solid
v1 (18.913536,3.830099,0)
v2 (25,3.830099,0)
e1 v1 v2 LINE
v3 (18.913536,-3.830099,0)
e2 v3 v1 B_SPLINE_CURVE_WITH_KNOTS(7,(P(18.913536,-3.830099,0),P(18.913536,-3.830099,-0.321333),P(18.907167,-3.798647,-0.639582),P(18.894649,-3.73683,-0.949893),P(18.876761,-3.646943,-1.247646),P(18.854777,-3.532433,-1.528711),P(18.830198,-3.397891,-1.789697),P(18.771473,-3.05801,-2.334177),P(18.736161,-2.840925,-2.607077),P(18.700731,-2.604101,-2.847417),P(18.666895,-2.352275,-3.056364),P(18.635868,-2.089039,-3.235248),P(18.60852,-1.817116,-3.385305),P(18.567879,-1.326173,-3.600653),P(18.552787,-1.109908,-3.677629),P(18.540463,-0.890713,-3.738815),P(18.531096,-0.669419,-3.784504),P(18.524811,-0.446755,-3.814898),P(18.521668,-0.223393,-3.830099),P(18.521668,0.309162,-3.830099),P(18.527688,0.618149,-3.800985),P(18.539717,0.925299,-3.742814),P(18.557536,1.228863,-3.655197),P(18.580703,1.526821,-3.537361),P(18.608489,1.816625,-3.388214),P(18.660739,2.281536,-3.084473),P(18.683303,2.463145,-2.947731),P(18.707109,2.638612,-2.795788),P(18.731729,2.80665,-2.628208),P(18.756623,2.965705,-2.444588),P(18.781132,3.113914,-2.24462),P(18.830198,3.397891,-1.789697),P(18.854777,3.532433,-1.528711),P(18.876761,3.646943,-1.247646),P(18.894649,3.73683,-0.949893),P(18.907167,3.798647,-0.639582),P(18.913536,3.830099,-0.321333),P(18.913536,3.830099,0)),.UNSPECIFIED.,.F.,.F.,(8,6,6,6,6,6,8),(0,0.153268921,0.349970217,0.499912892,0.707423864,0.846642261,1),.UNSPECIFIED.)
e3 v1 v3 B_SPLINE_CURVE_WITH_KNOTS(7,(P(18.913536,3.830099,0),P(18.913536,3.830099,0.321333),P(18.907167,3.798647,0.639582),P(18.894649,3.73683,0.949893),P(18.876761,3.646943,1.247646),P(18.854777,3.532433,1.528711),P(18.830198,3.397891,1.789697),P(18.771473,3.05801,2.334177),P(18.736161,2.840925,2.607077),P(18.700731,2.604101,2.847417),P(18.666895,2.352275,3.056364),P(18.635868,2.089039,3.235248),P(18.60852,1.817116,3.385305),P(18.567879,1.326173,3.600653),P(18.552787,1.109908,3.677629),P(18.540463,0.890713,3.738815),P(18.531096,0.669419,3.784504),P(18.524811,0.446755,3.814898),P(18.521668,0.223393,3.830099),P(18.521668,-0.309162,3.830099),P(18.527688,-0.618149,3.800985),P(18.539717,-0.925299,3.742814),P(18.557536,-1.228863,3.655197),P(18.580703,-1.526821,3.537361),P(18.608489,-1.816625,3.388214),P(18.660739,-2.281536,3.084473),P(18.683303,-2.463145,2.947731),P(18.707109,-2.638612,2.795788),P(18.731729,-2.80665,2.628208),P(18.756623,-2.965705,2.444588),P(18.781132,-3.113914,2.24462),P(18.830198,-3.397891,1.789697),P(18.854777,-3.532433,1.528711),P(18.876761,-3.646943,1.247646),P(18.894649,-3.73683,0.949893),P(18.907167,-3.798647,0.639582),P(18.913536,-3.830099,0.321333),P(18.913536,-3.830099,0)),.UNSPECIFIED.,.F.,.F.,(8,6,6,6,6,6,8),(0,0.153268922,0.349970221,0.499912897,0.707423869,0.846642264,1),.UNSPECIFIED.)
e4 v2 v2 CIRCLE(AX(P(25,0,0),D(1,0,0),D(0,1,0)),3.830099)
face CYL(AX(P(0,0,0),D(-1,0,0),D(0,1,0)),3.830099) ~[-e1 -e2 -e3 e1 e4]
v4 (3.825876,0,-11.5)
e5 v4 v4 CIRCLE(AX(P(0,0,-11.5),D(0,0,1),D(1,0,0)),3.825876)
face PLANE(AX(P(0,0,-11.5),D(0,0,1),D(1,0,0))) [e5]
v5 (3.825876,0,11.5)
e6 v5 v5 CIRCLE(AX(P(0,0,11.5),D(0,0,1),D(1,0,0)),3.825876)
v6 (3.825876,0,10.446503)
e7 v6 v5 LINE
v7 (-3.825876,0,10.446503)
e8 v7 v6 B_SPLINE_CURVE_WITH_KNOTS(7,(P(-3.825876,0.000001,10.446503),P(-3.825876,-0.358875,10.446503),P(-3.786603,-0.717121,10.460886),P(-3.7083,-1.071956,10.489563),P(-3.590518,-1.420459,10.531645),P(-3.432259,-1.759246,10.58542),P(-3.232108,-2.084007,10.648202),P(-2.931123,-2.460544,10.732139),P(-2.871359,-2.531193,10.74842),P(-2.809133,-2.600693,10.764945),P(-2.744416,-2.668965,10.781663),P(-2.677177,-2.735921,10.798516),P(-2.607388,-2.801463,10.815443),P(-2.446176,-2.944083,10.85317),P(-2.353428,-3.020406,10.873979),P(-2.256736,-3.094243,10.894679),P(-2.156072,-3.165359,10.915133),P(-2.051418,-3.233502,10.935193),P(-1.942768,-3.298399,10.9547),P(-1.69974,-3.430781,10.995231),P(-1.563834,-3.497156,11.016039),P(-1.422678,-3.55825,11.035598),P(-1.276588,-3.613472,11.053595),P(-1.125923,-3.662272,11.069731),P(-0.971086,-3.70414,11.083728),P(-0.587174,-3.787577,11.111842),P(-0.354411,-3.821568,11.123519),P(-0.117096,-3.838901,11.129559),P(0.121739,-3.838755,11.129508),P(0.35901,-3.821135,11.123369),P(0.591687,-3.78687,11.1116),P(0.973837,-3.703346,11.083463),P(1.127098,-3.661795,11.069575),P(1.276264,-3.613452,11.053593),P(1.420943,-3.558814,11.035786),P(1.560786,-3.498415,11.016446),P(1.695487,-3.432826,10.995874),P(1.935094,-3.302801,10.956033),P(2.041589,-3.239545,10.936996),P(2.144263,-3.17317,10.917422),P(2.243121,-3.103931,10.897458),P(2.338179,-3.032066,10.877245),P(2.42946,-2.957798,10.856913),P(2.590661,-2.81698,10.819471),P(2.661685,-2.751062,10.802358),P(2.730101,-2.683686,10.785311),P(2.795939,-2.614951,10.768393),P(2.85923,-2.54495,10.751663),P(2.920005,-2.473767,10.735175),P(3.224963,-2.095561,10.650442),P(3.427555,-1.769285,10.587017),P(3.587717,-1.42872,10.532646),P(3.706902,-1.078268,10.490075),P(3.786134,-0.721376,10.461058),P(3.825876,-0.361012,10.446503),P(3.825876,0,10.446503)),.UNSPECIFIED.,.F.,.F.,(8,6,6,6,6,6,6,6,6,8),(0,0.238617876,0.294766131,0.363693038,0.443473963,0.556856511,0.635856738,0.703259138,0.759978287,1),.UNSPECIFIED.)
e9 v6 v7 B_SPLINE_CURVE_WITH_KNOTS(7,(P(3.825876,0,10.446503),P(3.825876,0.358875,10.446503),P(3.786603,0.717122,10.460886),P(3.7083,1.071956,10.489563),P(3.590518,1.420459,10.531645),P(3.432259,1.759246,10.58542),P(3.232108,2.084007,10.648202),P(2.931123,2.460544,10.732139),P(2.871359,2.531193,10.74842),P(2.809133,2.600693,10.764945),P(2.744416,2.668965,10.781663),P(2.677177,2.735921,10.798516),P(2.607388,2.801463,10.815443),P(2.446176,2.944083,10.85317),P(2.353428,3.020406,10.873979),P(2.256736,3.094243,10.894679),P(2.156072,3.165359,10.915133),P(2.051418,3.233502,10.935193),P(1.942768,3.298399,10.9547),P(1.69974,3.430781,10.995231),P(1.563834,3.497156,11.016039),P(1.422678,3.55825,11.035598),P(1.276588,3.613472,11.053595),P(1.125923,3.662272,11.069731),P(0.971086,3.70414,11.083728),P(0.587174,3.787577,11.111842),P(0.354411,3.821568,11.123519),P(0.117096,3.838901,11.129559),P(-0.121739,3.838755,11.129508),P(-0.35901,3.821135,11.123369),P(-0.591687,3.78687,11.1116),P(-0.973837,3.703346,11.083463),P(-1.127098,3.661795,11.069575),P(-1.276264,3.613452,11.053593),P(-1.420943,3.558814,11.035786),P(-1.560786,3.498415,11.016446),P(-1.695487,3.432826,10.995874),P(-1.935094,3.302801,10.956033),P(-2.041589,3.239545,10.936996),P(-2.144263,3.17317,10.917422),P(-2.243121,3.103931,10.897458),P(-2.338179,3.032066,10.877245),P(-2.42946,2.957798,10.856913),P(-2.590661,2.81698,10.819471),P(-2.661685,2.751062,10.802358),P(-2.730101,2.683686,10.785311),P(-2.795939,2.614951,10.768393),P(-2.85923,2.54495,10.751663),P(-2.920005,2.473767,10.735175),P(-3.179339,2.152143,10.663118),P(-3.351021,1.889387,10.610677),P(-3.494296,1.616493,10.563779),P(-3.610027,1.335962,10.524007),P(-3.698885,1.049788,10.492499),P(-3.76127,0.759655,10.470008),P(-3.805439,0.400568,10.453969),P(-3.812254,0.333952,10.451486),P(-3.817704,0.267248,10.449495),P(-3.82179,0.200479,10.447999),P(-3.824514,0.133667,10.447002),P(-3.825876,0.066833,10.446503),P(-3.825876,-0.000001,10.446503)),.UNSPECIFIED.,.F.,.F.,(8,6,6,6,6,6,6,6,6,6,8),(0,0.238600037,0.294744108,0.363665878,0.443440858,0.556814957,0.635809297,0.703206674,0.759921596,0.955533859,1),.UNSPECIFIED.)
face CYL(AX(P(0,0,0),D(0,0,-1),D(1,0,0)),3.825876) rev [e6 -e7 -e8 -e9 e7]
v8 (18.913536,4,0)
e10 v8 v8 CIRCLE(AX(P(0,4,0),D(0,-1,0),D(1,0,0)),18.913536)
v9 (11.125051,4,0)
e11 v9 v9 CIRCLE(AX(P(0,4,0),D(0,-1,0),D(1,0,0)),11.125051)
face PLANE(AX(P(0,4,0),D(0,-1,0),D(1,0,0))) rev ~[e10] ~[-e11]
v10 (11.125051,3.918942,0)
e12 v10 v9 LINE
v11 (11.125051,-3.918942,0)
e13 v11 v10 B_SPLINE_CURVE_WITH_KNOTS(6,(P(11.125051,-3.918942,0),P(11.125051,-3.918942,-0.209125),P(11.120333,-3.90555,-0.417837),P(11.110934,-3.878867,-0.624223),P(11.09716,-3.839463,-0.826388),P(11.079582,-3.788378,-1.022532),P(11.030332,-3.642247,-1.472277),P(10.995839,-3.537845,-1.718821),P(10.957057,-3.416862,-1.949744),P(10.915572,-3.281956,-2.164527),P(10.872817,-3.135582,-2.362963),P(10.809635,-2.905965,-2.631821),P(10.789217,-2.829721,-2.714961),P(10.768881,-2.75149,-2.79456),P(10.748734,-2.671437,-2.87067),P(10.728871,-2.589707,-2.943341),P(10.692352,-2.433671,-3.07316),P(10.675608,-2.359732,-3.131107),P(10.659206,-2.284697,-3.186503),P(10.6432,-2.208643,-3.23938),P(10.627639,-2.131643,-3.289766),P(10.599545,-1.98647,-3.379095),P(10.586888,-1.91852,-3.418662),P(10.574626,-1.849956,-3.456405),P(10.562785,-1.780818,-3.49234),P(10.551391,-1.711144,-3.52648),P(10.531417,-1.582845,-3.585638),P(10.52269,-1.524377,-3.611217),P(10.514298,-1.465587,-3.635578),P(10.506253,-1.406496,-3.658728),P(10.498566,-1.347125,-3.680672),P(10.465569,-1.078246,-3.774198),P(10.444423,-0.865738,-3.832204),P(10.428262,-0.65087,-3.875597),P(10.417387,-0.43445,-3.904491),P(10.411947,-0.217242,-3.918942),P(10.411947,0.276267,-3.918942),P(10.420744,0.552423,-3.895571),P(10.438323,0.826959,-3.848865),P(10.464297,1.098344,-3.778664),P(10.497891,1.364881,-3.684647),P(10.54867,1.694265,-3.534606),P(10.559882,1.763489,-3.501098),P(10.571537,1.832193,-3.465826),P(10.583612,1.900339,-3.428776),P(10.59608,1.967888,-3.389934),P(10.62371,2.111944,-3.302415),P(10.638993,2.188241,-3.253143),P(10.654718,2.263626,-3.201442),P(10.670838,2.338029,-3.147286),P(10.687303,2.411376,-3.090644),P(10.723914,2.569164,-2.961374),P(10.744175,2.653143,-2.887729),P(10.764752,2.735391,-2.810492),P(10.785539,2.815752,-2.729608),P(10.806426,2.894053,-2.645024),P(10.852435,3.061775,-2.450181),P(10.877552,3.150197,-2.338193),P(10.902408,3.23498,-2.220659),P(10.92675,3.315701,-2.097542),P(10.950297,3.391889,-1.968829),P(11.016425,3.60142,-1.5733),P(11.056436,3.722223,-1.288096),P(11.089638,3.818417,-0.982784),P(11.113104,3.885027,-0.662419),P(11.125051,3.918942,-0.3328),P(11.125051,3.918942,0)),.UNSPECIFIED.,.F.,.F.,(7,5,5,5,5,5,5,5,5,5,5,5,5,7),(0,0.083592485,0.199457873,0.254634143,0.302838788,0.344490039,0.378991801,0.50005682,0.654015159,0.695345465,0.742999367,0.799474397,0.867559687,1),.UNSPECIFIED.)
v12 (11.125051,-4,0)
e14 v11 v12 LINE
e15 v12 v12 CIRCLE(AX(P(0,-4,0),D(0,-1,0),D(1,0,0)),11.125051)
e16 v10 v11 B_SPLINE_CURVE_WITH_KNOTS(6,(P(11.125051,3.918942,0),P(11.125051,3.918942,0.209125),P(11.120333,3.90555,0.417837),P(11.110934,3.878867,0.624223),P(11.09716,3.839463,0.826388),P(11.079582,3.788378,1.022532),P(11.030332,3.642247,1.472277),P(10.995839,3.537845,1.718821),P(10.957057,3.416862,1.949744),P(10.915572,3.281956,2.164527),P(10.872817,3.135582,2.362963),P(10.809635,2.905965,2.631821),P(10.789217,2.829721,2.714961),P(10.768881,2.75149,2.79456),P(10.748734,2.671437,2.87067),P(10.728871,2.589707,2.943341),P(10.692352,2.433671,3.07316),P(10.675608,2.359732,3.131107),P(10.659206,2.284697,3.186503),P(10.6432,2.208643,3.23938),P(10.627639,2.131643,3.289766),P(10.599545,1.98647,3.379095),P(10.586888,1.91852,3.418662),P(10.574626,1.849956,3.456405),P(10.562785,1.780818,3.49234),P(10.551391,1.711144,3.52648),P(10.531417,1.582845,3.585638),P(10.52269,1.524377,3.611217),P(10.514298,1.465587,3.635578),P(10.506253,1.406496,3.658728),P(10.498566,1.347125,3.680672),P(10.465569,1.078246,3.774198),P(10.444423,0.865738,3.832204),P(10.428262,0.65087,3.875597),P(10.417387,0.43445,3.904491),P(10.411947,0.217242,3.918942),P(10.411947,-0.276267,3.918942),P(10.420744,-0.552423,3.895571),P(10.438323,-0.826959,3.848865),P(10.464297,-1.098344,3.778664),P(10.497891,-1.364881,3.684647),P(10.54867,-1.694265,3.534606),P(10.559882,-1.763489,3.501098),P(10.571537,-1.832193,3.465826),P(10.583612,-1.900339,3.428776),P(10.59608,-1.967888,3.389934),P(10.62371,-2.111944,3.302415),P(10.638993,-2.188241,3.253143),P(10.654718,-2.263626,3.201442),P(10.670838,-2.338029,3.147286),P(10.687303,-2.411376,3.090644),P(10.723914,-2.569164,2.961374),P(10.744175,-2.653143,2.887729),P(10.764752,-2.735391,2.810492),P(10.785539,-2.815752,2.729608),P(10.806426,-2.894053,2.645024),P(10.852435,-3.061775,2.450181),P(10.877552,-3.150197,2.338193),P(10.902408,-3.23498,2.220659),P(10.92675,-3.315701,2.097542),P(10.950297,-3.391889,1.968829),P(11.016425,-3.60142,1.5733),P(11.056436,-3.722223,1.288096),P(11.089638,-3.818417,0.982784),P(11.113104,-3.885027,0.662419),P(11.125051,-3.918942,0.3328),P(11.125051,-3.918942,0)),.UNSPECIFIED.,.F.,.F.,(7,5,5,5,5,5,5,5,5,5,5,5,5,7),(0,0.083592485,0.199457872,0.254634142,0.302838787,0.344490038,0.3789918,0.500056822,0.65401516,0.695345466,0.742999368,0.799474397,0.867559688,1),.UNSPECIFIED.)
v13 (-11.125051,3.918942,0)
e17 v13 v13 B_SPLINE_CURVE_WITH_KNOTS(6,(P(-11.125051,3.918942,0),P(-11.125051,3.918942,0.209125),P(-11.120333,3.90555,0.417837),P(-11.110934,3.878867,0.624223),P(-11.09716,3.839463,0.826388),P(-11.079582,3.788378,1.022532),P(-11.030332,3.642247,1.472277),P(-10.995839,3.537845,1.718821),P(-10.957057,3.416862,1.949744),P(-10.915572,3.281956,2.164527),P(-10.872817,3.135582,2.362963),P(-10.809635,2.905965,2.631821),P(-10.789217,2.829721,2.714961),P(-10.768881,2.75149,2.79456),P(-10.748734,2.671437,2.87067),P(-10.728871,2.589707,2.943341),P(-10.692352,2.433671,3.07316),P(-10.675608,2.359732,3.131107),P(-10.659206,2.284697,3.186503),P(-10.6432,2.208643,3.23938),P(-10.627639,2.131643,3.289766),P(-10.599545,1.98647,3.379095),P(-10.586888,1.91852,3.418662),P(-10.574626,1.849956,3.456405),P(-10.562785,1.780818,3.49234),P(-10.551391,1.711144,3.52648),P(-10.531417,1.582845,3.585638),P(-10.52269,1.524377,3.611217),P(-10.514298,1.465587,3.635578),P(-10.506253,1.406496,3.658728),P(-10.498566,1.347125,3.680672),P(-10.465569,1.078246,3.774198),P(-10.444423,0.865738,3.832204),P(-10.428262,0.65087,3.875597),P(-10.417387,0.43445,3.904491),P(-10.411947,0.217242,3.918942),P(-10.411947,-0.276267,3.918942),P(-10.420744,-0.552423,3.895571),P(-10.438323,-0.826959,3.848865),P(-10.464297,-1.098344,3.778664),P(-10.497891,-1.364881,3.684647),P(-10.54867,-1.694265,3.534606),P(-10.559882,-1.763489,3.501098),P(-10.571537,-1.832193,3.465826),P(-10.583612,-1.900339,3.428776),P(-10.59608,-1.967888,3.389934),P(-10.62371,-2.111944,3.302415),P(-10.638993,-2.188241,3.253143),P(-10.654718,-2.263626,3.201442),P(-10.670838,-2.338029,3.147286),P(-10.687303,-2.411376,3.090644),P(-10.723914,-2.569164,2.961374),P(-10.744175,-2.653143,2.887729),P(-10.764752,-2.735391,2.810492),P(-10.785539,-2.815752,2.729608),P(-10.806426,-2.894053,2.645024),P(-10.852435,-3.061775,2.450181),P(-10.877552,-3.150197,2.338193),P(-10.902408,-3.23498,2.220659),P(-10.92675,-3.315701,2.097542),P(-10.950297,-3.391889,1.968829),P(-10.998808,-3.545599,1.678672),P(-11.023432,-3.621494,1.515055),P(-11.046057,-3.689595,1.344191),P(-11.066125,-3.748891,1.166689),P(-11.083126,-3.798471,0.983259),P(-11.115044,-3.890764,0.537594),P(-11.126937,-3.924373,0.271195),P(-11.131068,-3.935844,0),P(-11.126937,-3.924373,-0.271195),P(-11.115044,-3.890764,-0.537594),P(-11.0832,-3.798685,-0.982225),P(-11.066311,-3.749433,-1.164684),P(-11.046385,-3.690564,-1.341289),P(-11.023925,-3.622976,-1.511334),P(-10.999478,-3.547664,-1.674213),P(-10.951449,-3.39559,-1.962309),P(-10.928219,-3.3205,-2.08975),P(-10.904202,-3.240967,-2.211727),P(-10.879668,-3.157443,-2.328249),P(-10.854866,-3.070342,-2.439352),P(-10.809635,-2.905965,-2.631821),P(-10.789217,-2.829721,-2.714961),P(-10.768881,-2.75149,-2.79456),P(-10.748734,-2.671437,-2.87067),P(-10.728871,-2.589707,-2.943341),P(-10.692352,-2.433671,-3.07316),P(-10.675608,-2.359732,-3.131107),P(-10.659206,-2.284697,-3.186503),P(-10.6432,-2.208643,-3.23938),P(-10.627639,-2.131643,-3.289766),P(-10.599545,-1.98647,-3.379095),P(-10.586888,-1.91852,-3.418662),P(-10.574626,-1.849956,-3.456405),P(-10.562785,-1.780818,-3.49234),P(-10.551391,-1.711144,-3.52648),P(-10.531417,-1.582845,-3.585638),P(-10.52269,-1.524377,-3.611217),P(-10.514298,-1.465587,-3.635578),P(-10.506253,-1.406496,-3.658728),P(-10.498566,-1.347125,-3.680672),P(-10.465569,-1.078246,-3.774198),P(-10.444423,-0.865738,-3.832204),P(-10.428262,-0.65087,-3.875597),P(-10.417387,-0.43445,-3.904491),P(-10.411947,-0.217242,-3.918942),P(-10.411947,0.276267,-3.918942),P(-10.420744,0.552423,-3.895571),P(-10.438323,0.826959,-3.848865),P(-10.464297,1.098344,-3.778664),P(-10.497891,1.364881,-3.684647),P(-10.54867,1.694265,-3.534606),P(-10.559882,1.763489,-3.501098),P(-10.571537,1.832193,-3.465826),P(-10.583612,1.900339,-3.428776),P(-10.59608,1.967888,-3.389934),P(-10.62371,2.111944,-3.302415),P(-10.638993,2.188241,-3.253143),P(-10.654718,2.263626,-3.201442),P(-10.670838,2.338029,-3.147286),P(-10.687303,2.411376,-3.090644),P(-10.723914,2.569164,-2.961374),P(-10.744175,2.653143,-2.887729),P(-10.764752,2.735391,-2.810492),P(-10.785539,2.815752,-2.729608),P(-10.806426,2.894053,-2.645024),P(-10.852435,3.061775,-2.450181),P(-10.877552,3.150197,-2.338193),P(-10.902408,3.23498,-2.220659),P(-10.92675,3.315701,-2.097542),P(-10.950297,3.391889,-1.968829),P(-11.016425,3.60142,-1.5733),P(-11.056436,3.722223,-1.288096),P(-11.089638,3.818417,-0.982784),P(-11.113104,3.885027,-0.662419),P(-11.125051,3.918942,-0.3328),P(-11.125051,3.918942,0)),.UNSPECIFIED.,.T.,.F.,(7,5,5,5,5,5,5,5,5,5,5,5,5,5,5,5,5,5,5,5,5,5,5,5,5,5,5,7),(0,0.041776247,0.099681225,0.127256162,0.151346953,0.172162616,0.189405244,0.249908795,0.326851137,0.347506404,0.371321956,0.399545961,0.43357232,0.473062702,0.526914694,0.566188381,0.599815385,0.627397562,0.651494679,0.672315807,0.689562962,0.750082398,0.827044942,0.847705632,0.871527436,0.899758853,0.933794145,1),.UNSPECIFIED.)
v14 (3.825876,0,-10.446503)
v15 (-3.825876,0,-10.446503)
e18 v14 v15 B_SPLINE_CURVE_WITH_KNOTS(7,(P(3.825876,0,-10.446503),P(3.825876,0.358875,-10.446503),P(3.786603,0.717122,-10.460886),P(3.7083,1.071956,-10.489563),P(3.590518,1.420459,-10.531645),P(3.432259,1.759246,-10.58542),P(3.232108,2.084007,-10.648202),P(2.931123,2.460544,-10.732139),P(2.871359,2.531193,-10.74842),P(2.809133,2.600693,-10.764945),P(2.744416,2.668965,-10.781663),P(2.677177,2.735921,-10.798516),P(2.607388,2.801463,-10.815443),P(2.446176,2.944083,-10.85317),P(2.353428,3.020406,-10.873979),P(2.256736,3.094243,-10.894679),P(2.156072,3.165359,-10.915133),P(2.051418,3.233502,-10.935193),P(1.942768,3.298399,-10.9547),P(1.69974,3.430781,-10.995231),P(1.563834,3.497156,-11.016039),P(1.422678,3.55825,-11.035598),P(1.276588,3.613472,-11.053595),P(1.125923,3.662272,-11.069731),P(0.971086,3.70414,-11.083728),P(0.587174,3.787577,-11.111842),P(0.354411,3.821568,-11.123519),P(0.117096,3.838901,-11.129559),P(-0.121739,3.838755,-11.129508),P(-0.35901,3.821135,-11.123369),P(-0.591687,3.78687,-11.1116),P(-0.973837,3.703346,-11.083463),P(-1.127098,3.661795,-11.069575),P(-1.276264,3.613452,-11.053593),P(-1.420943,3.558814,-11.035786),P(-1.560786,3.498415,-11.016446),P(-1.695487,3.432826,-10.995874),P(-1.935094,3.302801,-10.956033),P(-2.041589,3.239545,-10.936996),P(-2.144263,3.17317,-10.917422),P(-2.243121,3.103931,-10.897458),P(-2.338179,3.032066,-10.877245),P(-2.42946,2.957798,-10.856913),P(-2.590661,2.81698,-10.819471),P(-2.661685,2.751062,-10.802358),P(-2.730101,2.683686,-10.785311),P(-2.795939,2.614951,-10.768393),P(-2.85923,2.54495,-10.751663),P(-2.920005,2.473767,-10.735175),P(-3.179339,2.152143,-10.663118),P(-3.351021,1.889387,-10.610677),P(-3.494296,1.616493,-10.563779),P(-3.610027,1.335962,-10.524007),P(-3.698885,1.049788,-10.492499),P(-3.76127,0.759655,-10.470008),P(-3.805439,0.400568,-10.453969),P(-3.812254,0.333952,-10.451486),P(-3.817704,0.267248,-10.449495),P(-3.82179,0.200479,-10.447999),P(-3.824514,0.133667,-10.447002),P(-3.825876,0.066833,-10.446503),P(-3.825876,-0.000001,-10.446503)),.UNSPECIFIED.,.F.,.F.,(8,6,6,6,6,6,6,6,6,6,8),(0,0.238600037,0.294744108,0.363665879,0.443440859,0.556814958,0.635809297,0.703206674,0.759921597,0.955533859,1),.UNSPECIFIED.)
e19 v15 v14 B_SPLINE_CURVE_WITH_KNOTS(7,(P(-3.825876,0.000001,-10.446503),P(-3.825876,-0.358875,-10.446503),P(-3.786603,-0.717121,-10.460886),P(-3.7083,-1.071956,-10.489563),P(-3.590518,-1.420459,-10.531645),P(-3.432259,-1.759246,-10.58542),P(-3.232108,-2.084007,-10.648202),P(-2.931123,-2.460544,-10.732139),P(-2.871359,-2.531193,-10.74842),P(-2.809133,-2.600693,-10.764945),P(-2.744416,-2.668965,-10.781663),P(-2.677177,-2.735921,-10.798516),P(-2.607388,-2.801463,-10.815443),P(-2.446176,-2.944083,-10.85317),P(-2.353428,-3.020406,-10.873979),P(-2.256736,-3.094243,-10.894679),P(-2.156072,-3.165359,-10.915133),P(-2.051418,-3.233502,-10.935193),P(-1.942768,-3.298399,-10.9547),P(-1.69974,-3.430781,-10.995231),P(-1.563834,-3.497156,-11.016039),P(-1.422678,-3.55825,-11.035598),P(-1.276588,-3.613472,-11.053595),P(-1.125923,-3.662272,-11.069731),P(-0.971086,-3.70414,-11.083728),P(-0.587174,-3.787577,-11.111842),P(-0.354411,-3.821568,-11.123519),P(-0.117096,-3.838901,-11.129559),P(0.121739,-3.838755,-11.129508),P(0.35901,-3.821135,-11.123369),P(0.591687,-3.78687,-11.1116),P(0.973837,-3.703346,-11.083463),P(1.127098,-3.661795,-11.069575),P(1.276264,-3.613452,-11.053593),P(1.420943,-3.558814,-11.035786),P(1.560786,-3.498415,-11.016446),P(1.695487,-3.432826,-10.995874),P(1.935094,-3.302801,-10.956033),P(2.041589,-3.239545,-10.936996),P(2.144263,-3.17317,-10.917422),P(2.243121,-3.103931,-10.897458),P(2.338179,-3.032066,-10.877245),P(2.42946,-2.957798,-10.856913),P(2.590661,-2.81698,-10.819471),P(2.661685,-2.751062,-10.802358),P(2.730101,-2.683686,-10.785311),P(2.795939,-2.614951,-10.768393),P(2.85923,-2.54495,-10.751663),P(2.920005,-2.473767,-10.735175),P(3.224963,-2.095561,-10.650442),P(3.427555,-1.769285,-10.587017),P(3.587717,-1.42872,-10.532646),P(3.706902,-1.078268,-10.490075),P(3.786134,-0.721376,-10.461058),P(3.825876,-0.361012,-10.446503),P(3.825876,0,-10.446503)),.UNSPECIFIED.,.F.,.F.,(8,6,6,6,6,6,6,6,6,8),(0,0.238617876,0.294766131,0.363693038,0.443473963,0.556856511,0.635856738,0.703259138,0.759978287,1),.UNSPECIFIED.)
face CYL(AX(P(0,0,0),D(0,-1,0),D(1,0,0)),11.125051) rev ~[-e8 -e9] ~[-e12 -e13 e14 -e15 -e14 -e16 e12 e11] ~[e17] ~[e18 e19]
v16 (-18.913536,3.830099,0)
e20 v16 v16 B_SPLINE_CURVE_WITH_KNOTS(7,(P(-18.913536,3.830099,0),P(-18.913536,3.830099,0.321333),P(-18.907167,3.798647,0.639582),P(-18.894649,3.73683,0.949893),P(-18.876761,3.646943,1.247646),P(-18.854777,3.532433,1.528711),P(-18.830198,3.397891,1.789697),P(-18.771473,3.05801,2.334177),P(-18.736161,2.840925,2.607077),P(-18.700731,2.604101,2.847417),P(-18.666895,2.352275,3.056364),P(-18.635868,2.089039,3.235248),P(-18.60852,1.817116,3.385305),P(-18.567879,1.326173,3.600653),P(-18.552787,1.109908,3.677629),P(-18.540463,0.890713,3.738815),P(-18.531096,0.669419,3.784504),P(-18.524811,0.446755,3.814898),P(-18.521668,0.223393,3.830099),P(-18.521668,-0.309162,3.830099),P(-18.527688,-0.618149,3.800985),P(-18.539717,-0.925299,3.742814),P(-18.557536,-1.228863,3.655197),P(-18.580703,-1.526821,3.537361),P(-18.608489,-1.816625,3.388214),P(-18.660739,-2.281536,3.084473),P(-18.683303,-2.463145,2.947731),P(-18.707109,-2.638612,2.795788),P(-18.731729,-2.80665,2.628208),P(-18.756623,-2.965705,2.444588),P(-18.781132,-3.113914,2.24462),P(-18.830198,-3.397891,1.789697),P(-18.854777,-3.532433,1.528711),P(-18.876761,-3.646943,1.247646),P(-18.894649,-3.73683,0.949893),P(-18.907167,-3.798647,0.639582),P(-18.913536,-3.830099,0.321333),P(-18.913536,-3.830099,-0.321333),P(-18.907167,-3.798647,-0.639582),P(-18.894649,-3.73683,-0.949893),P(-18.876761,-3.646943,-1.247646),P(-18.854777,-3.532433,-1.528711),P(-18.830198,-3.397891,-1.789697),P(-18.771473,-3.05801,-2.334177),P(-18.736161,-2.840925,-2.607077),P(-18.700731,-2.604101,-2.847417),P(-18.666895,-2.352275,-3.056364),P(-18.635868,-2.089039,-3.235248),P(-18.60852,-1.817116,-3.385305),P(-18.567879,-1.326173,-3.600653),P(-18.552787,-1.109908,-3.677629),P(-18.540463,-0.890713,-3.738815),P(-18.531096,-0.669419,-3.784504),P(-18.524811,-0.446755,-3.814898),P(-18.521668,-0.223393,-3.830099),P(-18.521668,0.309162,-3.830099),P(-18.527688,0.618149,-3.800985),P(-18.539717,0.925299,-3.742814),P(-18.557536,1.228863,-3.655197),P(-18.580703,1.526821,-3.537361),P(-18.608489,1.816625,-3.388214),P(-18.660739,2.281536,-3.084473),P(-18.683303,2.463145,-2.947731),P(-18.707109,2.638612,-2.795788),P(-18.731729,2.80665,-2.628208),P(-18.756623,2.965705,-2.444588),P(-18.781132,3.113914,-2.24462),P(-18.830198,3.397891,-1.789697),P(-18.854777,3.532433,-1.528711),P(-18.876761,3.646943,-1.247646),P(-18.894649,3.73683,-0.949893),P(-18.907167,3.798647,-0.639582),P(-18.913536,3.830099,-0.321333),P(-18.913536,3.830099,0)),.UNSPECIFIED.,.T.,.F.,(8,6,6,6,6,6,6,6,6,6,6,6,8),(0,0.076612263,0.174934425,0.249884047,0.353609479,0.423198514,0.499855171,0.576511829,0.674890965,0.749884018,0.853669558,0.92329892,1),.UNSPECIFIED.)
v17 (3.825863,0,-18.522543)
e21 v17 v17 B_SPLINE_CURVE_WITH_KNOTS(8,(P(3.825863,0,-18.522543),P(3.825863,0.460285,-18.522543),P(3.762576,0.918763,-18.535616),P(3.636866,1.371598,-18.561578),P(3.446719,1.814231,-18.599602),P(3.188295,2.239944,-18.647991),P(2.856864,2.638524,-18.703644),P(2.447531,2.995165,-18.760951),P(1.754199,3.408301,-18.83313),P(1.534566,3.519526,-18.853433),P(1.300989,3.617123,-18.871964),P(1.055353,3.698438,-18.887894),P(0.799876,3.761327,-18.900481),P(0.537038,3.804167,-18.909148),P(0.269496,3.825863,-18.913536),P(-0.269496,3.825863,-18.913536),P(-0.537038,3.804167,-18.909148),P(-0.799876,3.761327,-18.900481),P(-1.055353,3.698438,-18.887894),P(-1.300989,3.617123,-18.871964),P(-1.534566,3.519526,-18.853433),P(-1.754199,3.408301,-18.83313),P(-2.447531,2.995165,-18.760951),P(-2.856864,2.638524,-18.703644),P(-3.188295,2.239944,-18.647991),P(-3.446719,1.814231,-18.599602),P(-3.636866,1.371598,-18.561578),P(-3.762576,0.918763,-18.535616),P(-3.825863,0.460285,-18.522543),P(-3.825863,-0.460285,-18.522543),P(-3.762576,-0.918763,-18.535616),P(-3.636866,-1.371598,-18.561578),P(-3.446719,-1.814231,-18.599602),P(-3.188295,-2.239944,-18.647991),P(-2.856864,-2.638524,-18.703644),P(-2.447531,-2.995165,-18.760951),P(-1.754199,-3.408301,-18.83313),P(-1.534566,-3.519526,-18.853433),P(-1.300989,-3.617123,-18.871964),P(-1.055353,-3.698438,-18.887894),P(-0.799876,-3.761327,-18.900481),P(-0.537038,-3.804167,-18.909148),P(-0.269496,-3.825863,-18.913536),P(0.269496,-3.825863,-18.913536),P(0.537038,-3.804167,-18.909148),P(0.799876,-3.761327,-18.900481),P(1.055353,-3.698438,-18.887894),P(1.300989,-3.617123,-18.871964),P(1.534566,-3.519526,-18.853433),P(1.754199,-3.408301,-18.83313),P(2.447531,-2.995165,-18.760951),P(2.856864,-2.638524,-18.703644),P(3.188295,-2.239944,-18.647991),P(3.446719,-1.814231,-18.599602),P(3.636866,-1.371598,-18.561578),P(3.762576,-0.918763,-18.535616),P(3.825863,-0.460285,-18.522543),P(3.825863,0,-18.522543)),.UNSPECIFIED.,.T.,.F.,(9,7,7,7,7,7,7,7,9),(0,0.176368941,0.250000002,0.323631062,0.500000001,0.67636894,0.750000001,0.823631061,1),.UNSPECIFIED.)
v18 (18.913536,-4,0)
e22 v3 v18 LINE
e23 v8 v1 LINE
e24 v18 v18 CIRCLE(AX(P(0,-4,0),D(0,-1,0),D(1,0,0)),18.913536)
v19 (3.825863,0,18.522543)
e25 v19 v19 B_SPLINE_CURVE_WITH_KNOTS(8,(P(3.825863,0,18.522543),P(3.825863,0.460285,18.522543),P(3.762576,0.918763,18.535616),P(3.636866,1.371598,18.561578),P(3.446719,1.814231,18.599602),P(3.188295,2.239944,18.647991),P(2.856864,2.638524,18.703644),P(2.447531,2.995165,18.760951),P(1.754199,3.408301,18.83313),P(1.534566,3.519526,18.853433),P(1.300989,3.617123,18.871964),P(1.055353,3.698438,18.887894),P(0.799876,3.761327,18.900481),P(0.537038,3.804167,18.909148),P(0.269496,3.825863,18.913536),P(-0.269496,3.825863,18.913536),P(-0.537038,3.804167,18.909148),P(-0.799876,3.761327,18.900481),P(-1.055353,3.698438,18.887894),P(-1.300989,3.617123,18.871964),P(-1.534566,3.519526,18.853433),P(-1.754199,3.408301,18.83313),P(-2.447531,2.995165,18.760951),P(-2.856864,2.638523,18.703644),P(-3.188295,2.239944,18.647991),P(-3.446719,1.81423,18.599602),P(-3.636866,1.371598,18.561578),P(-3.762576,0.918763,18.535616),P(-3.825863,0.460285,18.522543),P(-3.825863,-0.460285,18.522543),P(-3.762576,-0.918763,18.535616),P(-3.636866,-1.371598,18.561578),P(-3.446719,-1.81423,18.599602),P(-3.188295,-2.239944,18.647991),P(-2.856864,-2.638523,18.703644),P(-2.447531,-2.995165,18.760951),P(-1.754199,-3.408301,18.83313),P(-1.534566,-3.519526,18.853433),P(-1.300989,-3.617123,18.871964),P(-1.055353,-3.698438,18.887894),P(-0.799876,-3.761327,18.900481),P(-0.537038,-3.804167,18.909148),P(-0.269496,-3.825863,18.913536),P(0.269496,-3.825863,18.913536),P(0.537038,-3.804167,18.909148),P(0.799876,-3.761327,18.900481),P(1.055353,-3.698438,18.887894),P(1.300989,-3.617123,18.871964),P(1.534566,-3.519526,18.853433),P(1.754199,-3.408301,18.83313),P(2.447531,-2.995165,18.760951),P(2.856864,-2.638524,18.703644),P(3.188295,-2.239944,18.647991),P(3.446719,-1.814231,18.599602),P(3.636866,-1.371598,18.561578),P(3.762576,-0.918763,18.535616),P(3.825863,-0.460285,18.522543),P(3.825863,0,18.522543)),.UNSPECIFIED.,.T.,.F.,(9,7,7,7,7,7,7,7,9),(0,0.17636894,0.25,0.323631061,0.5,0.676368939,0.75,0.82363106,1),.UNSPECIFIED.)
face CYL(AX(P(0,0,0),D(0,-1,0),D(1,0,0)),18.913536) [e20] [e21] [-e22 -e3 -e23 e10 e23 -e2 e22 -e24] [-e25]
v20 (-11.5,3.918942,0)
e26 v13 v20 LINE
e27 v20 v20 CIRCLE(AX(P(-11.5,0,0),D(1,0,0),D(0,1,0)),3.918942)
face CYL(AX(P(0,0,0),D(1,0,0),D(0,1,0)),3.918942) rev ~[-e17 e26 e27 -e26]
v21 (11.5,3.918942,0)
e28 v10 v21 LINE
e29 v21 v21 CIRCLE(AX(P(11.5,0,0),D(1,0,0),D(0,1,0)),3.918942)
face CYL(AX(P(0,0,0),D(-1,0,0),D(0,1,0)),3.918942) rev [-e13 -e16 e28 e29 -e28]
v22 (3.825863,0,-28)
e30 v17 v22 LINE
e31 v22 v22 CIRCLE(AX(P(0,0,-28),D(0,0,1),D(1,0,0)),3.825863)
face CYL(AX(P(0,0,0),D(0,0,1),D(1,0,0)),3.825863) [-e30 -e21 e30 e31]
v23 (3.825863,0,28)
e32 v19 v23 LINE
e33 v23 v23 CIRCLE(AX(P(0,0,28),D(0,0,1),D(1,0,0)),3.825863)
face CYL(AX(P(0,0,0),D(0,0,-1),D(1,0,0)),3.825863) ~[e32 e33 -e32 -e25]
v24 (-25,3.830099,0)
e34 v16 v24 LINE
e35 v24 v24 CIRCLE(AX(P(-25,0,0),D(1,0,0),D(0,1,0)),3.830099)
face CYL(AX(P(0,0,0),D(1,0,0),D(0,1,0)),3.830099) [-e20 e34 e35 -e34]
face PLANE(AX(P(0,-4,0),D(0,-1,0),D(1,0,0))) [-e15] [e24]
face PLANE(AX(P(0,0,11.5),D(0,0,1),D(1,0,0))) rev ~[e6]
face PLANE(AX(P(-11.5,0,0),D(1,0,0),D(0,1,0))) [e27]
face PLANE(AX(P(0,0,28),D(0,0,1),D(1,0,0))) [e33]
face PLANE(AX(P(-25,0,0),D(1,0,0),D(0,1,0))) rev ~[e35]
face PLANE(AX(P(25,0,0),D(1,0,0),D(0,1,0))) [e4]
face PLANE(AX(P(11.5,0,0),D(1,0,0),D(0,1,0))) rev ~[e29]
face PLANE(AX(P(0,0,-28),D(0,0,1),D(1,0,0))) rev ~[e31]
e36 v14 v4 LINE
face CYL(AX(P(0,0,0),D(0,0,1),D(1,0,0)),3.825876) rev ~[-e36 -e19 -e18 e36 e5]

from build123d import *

# Parameters (mm, degrees)
F0_R          = 18.9135358378
F0_R_2        = 11.1250506431
F1_DEPTH      = 4
F1_DEPTH_BACK = 4
F2_R          = 3.8258628395
F3_DEPTH      = 28
F3_DEPTH_BACK = 28
F4_R          = 3.8258764398
F5_DEPTH      = 11.5
F5_DEPTH_BACK = 11.5
F6_R          = 3.830099353
F7_DEPTH      = 25
F7_DEPTH_BACK = 25
F8_R          = 3.9189417201
F9_DEPTH      = 11.5
F9_DEPTH_BACK = 11.5


with BuildPart() as f1:
    # F0 (on Front) → F1 (new body, two sides)
    with BuildSketch(Plane.XZ) as f1_sk:
        Circle(F0_R)
        Circle(F0_R_2, mode=Mode.SUBTRACT)
    extrude(amount=F1_DEPTH)
    extrude(f1_sk.sketch, amount=-F1_DEPTH_BACK)

    # F2 (on Top) → F3 (join, two sides)
    with BuildSketch(Plane.XY) as f3_sk:
        Circle(F2_R)
    extrude(amount=F3_DEPTH)
    extrude(f3_sk.sketch, amount=-F3_DEPTH_BACK)

    # F4 (on Top) → F5 (cut, two sides)
    with BuildSketch(Plane.XY) as f5_sk:
        Circle(F4_R)
    extrude(amount=-F5_DEPTH, mode=Mode.SUBTRACT)
    extrude(f5_sk.sketch, amount=F5_DEPTH_BACK, mode=Mode.SUBTRACT)

    # F6 (on Right) → F7 (join, two sides)
    with BuildSketch(Plane.YZ) as f7_sk:
        Circle(F6_R)
    extrude(amount=F7_DEPTH)
    extrude(f7_sk.sketch, amount=-F7_DEPTH_BACK)

    # F8 (on Right) → F9 (cut, two sides)
    with BuildSketch(Plane.YZ) as f9_sk:
        Circle(F8_R)
    extrude(amount=-F9_DEPTH, mode=Mode.SUBTRACT)
    extrude(f9_sk.sketch, amount=F9_DEPTH_BACK, mode=Mode.SUBTRACT)


solid = f1.part
